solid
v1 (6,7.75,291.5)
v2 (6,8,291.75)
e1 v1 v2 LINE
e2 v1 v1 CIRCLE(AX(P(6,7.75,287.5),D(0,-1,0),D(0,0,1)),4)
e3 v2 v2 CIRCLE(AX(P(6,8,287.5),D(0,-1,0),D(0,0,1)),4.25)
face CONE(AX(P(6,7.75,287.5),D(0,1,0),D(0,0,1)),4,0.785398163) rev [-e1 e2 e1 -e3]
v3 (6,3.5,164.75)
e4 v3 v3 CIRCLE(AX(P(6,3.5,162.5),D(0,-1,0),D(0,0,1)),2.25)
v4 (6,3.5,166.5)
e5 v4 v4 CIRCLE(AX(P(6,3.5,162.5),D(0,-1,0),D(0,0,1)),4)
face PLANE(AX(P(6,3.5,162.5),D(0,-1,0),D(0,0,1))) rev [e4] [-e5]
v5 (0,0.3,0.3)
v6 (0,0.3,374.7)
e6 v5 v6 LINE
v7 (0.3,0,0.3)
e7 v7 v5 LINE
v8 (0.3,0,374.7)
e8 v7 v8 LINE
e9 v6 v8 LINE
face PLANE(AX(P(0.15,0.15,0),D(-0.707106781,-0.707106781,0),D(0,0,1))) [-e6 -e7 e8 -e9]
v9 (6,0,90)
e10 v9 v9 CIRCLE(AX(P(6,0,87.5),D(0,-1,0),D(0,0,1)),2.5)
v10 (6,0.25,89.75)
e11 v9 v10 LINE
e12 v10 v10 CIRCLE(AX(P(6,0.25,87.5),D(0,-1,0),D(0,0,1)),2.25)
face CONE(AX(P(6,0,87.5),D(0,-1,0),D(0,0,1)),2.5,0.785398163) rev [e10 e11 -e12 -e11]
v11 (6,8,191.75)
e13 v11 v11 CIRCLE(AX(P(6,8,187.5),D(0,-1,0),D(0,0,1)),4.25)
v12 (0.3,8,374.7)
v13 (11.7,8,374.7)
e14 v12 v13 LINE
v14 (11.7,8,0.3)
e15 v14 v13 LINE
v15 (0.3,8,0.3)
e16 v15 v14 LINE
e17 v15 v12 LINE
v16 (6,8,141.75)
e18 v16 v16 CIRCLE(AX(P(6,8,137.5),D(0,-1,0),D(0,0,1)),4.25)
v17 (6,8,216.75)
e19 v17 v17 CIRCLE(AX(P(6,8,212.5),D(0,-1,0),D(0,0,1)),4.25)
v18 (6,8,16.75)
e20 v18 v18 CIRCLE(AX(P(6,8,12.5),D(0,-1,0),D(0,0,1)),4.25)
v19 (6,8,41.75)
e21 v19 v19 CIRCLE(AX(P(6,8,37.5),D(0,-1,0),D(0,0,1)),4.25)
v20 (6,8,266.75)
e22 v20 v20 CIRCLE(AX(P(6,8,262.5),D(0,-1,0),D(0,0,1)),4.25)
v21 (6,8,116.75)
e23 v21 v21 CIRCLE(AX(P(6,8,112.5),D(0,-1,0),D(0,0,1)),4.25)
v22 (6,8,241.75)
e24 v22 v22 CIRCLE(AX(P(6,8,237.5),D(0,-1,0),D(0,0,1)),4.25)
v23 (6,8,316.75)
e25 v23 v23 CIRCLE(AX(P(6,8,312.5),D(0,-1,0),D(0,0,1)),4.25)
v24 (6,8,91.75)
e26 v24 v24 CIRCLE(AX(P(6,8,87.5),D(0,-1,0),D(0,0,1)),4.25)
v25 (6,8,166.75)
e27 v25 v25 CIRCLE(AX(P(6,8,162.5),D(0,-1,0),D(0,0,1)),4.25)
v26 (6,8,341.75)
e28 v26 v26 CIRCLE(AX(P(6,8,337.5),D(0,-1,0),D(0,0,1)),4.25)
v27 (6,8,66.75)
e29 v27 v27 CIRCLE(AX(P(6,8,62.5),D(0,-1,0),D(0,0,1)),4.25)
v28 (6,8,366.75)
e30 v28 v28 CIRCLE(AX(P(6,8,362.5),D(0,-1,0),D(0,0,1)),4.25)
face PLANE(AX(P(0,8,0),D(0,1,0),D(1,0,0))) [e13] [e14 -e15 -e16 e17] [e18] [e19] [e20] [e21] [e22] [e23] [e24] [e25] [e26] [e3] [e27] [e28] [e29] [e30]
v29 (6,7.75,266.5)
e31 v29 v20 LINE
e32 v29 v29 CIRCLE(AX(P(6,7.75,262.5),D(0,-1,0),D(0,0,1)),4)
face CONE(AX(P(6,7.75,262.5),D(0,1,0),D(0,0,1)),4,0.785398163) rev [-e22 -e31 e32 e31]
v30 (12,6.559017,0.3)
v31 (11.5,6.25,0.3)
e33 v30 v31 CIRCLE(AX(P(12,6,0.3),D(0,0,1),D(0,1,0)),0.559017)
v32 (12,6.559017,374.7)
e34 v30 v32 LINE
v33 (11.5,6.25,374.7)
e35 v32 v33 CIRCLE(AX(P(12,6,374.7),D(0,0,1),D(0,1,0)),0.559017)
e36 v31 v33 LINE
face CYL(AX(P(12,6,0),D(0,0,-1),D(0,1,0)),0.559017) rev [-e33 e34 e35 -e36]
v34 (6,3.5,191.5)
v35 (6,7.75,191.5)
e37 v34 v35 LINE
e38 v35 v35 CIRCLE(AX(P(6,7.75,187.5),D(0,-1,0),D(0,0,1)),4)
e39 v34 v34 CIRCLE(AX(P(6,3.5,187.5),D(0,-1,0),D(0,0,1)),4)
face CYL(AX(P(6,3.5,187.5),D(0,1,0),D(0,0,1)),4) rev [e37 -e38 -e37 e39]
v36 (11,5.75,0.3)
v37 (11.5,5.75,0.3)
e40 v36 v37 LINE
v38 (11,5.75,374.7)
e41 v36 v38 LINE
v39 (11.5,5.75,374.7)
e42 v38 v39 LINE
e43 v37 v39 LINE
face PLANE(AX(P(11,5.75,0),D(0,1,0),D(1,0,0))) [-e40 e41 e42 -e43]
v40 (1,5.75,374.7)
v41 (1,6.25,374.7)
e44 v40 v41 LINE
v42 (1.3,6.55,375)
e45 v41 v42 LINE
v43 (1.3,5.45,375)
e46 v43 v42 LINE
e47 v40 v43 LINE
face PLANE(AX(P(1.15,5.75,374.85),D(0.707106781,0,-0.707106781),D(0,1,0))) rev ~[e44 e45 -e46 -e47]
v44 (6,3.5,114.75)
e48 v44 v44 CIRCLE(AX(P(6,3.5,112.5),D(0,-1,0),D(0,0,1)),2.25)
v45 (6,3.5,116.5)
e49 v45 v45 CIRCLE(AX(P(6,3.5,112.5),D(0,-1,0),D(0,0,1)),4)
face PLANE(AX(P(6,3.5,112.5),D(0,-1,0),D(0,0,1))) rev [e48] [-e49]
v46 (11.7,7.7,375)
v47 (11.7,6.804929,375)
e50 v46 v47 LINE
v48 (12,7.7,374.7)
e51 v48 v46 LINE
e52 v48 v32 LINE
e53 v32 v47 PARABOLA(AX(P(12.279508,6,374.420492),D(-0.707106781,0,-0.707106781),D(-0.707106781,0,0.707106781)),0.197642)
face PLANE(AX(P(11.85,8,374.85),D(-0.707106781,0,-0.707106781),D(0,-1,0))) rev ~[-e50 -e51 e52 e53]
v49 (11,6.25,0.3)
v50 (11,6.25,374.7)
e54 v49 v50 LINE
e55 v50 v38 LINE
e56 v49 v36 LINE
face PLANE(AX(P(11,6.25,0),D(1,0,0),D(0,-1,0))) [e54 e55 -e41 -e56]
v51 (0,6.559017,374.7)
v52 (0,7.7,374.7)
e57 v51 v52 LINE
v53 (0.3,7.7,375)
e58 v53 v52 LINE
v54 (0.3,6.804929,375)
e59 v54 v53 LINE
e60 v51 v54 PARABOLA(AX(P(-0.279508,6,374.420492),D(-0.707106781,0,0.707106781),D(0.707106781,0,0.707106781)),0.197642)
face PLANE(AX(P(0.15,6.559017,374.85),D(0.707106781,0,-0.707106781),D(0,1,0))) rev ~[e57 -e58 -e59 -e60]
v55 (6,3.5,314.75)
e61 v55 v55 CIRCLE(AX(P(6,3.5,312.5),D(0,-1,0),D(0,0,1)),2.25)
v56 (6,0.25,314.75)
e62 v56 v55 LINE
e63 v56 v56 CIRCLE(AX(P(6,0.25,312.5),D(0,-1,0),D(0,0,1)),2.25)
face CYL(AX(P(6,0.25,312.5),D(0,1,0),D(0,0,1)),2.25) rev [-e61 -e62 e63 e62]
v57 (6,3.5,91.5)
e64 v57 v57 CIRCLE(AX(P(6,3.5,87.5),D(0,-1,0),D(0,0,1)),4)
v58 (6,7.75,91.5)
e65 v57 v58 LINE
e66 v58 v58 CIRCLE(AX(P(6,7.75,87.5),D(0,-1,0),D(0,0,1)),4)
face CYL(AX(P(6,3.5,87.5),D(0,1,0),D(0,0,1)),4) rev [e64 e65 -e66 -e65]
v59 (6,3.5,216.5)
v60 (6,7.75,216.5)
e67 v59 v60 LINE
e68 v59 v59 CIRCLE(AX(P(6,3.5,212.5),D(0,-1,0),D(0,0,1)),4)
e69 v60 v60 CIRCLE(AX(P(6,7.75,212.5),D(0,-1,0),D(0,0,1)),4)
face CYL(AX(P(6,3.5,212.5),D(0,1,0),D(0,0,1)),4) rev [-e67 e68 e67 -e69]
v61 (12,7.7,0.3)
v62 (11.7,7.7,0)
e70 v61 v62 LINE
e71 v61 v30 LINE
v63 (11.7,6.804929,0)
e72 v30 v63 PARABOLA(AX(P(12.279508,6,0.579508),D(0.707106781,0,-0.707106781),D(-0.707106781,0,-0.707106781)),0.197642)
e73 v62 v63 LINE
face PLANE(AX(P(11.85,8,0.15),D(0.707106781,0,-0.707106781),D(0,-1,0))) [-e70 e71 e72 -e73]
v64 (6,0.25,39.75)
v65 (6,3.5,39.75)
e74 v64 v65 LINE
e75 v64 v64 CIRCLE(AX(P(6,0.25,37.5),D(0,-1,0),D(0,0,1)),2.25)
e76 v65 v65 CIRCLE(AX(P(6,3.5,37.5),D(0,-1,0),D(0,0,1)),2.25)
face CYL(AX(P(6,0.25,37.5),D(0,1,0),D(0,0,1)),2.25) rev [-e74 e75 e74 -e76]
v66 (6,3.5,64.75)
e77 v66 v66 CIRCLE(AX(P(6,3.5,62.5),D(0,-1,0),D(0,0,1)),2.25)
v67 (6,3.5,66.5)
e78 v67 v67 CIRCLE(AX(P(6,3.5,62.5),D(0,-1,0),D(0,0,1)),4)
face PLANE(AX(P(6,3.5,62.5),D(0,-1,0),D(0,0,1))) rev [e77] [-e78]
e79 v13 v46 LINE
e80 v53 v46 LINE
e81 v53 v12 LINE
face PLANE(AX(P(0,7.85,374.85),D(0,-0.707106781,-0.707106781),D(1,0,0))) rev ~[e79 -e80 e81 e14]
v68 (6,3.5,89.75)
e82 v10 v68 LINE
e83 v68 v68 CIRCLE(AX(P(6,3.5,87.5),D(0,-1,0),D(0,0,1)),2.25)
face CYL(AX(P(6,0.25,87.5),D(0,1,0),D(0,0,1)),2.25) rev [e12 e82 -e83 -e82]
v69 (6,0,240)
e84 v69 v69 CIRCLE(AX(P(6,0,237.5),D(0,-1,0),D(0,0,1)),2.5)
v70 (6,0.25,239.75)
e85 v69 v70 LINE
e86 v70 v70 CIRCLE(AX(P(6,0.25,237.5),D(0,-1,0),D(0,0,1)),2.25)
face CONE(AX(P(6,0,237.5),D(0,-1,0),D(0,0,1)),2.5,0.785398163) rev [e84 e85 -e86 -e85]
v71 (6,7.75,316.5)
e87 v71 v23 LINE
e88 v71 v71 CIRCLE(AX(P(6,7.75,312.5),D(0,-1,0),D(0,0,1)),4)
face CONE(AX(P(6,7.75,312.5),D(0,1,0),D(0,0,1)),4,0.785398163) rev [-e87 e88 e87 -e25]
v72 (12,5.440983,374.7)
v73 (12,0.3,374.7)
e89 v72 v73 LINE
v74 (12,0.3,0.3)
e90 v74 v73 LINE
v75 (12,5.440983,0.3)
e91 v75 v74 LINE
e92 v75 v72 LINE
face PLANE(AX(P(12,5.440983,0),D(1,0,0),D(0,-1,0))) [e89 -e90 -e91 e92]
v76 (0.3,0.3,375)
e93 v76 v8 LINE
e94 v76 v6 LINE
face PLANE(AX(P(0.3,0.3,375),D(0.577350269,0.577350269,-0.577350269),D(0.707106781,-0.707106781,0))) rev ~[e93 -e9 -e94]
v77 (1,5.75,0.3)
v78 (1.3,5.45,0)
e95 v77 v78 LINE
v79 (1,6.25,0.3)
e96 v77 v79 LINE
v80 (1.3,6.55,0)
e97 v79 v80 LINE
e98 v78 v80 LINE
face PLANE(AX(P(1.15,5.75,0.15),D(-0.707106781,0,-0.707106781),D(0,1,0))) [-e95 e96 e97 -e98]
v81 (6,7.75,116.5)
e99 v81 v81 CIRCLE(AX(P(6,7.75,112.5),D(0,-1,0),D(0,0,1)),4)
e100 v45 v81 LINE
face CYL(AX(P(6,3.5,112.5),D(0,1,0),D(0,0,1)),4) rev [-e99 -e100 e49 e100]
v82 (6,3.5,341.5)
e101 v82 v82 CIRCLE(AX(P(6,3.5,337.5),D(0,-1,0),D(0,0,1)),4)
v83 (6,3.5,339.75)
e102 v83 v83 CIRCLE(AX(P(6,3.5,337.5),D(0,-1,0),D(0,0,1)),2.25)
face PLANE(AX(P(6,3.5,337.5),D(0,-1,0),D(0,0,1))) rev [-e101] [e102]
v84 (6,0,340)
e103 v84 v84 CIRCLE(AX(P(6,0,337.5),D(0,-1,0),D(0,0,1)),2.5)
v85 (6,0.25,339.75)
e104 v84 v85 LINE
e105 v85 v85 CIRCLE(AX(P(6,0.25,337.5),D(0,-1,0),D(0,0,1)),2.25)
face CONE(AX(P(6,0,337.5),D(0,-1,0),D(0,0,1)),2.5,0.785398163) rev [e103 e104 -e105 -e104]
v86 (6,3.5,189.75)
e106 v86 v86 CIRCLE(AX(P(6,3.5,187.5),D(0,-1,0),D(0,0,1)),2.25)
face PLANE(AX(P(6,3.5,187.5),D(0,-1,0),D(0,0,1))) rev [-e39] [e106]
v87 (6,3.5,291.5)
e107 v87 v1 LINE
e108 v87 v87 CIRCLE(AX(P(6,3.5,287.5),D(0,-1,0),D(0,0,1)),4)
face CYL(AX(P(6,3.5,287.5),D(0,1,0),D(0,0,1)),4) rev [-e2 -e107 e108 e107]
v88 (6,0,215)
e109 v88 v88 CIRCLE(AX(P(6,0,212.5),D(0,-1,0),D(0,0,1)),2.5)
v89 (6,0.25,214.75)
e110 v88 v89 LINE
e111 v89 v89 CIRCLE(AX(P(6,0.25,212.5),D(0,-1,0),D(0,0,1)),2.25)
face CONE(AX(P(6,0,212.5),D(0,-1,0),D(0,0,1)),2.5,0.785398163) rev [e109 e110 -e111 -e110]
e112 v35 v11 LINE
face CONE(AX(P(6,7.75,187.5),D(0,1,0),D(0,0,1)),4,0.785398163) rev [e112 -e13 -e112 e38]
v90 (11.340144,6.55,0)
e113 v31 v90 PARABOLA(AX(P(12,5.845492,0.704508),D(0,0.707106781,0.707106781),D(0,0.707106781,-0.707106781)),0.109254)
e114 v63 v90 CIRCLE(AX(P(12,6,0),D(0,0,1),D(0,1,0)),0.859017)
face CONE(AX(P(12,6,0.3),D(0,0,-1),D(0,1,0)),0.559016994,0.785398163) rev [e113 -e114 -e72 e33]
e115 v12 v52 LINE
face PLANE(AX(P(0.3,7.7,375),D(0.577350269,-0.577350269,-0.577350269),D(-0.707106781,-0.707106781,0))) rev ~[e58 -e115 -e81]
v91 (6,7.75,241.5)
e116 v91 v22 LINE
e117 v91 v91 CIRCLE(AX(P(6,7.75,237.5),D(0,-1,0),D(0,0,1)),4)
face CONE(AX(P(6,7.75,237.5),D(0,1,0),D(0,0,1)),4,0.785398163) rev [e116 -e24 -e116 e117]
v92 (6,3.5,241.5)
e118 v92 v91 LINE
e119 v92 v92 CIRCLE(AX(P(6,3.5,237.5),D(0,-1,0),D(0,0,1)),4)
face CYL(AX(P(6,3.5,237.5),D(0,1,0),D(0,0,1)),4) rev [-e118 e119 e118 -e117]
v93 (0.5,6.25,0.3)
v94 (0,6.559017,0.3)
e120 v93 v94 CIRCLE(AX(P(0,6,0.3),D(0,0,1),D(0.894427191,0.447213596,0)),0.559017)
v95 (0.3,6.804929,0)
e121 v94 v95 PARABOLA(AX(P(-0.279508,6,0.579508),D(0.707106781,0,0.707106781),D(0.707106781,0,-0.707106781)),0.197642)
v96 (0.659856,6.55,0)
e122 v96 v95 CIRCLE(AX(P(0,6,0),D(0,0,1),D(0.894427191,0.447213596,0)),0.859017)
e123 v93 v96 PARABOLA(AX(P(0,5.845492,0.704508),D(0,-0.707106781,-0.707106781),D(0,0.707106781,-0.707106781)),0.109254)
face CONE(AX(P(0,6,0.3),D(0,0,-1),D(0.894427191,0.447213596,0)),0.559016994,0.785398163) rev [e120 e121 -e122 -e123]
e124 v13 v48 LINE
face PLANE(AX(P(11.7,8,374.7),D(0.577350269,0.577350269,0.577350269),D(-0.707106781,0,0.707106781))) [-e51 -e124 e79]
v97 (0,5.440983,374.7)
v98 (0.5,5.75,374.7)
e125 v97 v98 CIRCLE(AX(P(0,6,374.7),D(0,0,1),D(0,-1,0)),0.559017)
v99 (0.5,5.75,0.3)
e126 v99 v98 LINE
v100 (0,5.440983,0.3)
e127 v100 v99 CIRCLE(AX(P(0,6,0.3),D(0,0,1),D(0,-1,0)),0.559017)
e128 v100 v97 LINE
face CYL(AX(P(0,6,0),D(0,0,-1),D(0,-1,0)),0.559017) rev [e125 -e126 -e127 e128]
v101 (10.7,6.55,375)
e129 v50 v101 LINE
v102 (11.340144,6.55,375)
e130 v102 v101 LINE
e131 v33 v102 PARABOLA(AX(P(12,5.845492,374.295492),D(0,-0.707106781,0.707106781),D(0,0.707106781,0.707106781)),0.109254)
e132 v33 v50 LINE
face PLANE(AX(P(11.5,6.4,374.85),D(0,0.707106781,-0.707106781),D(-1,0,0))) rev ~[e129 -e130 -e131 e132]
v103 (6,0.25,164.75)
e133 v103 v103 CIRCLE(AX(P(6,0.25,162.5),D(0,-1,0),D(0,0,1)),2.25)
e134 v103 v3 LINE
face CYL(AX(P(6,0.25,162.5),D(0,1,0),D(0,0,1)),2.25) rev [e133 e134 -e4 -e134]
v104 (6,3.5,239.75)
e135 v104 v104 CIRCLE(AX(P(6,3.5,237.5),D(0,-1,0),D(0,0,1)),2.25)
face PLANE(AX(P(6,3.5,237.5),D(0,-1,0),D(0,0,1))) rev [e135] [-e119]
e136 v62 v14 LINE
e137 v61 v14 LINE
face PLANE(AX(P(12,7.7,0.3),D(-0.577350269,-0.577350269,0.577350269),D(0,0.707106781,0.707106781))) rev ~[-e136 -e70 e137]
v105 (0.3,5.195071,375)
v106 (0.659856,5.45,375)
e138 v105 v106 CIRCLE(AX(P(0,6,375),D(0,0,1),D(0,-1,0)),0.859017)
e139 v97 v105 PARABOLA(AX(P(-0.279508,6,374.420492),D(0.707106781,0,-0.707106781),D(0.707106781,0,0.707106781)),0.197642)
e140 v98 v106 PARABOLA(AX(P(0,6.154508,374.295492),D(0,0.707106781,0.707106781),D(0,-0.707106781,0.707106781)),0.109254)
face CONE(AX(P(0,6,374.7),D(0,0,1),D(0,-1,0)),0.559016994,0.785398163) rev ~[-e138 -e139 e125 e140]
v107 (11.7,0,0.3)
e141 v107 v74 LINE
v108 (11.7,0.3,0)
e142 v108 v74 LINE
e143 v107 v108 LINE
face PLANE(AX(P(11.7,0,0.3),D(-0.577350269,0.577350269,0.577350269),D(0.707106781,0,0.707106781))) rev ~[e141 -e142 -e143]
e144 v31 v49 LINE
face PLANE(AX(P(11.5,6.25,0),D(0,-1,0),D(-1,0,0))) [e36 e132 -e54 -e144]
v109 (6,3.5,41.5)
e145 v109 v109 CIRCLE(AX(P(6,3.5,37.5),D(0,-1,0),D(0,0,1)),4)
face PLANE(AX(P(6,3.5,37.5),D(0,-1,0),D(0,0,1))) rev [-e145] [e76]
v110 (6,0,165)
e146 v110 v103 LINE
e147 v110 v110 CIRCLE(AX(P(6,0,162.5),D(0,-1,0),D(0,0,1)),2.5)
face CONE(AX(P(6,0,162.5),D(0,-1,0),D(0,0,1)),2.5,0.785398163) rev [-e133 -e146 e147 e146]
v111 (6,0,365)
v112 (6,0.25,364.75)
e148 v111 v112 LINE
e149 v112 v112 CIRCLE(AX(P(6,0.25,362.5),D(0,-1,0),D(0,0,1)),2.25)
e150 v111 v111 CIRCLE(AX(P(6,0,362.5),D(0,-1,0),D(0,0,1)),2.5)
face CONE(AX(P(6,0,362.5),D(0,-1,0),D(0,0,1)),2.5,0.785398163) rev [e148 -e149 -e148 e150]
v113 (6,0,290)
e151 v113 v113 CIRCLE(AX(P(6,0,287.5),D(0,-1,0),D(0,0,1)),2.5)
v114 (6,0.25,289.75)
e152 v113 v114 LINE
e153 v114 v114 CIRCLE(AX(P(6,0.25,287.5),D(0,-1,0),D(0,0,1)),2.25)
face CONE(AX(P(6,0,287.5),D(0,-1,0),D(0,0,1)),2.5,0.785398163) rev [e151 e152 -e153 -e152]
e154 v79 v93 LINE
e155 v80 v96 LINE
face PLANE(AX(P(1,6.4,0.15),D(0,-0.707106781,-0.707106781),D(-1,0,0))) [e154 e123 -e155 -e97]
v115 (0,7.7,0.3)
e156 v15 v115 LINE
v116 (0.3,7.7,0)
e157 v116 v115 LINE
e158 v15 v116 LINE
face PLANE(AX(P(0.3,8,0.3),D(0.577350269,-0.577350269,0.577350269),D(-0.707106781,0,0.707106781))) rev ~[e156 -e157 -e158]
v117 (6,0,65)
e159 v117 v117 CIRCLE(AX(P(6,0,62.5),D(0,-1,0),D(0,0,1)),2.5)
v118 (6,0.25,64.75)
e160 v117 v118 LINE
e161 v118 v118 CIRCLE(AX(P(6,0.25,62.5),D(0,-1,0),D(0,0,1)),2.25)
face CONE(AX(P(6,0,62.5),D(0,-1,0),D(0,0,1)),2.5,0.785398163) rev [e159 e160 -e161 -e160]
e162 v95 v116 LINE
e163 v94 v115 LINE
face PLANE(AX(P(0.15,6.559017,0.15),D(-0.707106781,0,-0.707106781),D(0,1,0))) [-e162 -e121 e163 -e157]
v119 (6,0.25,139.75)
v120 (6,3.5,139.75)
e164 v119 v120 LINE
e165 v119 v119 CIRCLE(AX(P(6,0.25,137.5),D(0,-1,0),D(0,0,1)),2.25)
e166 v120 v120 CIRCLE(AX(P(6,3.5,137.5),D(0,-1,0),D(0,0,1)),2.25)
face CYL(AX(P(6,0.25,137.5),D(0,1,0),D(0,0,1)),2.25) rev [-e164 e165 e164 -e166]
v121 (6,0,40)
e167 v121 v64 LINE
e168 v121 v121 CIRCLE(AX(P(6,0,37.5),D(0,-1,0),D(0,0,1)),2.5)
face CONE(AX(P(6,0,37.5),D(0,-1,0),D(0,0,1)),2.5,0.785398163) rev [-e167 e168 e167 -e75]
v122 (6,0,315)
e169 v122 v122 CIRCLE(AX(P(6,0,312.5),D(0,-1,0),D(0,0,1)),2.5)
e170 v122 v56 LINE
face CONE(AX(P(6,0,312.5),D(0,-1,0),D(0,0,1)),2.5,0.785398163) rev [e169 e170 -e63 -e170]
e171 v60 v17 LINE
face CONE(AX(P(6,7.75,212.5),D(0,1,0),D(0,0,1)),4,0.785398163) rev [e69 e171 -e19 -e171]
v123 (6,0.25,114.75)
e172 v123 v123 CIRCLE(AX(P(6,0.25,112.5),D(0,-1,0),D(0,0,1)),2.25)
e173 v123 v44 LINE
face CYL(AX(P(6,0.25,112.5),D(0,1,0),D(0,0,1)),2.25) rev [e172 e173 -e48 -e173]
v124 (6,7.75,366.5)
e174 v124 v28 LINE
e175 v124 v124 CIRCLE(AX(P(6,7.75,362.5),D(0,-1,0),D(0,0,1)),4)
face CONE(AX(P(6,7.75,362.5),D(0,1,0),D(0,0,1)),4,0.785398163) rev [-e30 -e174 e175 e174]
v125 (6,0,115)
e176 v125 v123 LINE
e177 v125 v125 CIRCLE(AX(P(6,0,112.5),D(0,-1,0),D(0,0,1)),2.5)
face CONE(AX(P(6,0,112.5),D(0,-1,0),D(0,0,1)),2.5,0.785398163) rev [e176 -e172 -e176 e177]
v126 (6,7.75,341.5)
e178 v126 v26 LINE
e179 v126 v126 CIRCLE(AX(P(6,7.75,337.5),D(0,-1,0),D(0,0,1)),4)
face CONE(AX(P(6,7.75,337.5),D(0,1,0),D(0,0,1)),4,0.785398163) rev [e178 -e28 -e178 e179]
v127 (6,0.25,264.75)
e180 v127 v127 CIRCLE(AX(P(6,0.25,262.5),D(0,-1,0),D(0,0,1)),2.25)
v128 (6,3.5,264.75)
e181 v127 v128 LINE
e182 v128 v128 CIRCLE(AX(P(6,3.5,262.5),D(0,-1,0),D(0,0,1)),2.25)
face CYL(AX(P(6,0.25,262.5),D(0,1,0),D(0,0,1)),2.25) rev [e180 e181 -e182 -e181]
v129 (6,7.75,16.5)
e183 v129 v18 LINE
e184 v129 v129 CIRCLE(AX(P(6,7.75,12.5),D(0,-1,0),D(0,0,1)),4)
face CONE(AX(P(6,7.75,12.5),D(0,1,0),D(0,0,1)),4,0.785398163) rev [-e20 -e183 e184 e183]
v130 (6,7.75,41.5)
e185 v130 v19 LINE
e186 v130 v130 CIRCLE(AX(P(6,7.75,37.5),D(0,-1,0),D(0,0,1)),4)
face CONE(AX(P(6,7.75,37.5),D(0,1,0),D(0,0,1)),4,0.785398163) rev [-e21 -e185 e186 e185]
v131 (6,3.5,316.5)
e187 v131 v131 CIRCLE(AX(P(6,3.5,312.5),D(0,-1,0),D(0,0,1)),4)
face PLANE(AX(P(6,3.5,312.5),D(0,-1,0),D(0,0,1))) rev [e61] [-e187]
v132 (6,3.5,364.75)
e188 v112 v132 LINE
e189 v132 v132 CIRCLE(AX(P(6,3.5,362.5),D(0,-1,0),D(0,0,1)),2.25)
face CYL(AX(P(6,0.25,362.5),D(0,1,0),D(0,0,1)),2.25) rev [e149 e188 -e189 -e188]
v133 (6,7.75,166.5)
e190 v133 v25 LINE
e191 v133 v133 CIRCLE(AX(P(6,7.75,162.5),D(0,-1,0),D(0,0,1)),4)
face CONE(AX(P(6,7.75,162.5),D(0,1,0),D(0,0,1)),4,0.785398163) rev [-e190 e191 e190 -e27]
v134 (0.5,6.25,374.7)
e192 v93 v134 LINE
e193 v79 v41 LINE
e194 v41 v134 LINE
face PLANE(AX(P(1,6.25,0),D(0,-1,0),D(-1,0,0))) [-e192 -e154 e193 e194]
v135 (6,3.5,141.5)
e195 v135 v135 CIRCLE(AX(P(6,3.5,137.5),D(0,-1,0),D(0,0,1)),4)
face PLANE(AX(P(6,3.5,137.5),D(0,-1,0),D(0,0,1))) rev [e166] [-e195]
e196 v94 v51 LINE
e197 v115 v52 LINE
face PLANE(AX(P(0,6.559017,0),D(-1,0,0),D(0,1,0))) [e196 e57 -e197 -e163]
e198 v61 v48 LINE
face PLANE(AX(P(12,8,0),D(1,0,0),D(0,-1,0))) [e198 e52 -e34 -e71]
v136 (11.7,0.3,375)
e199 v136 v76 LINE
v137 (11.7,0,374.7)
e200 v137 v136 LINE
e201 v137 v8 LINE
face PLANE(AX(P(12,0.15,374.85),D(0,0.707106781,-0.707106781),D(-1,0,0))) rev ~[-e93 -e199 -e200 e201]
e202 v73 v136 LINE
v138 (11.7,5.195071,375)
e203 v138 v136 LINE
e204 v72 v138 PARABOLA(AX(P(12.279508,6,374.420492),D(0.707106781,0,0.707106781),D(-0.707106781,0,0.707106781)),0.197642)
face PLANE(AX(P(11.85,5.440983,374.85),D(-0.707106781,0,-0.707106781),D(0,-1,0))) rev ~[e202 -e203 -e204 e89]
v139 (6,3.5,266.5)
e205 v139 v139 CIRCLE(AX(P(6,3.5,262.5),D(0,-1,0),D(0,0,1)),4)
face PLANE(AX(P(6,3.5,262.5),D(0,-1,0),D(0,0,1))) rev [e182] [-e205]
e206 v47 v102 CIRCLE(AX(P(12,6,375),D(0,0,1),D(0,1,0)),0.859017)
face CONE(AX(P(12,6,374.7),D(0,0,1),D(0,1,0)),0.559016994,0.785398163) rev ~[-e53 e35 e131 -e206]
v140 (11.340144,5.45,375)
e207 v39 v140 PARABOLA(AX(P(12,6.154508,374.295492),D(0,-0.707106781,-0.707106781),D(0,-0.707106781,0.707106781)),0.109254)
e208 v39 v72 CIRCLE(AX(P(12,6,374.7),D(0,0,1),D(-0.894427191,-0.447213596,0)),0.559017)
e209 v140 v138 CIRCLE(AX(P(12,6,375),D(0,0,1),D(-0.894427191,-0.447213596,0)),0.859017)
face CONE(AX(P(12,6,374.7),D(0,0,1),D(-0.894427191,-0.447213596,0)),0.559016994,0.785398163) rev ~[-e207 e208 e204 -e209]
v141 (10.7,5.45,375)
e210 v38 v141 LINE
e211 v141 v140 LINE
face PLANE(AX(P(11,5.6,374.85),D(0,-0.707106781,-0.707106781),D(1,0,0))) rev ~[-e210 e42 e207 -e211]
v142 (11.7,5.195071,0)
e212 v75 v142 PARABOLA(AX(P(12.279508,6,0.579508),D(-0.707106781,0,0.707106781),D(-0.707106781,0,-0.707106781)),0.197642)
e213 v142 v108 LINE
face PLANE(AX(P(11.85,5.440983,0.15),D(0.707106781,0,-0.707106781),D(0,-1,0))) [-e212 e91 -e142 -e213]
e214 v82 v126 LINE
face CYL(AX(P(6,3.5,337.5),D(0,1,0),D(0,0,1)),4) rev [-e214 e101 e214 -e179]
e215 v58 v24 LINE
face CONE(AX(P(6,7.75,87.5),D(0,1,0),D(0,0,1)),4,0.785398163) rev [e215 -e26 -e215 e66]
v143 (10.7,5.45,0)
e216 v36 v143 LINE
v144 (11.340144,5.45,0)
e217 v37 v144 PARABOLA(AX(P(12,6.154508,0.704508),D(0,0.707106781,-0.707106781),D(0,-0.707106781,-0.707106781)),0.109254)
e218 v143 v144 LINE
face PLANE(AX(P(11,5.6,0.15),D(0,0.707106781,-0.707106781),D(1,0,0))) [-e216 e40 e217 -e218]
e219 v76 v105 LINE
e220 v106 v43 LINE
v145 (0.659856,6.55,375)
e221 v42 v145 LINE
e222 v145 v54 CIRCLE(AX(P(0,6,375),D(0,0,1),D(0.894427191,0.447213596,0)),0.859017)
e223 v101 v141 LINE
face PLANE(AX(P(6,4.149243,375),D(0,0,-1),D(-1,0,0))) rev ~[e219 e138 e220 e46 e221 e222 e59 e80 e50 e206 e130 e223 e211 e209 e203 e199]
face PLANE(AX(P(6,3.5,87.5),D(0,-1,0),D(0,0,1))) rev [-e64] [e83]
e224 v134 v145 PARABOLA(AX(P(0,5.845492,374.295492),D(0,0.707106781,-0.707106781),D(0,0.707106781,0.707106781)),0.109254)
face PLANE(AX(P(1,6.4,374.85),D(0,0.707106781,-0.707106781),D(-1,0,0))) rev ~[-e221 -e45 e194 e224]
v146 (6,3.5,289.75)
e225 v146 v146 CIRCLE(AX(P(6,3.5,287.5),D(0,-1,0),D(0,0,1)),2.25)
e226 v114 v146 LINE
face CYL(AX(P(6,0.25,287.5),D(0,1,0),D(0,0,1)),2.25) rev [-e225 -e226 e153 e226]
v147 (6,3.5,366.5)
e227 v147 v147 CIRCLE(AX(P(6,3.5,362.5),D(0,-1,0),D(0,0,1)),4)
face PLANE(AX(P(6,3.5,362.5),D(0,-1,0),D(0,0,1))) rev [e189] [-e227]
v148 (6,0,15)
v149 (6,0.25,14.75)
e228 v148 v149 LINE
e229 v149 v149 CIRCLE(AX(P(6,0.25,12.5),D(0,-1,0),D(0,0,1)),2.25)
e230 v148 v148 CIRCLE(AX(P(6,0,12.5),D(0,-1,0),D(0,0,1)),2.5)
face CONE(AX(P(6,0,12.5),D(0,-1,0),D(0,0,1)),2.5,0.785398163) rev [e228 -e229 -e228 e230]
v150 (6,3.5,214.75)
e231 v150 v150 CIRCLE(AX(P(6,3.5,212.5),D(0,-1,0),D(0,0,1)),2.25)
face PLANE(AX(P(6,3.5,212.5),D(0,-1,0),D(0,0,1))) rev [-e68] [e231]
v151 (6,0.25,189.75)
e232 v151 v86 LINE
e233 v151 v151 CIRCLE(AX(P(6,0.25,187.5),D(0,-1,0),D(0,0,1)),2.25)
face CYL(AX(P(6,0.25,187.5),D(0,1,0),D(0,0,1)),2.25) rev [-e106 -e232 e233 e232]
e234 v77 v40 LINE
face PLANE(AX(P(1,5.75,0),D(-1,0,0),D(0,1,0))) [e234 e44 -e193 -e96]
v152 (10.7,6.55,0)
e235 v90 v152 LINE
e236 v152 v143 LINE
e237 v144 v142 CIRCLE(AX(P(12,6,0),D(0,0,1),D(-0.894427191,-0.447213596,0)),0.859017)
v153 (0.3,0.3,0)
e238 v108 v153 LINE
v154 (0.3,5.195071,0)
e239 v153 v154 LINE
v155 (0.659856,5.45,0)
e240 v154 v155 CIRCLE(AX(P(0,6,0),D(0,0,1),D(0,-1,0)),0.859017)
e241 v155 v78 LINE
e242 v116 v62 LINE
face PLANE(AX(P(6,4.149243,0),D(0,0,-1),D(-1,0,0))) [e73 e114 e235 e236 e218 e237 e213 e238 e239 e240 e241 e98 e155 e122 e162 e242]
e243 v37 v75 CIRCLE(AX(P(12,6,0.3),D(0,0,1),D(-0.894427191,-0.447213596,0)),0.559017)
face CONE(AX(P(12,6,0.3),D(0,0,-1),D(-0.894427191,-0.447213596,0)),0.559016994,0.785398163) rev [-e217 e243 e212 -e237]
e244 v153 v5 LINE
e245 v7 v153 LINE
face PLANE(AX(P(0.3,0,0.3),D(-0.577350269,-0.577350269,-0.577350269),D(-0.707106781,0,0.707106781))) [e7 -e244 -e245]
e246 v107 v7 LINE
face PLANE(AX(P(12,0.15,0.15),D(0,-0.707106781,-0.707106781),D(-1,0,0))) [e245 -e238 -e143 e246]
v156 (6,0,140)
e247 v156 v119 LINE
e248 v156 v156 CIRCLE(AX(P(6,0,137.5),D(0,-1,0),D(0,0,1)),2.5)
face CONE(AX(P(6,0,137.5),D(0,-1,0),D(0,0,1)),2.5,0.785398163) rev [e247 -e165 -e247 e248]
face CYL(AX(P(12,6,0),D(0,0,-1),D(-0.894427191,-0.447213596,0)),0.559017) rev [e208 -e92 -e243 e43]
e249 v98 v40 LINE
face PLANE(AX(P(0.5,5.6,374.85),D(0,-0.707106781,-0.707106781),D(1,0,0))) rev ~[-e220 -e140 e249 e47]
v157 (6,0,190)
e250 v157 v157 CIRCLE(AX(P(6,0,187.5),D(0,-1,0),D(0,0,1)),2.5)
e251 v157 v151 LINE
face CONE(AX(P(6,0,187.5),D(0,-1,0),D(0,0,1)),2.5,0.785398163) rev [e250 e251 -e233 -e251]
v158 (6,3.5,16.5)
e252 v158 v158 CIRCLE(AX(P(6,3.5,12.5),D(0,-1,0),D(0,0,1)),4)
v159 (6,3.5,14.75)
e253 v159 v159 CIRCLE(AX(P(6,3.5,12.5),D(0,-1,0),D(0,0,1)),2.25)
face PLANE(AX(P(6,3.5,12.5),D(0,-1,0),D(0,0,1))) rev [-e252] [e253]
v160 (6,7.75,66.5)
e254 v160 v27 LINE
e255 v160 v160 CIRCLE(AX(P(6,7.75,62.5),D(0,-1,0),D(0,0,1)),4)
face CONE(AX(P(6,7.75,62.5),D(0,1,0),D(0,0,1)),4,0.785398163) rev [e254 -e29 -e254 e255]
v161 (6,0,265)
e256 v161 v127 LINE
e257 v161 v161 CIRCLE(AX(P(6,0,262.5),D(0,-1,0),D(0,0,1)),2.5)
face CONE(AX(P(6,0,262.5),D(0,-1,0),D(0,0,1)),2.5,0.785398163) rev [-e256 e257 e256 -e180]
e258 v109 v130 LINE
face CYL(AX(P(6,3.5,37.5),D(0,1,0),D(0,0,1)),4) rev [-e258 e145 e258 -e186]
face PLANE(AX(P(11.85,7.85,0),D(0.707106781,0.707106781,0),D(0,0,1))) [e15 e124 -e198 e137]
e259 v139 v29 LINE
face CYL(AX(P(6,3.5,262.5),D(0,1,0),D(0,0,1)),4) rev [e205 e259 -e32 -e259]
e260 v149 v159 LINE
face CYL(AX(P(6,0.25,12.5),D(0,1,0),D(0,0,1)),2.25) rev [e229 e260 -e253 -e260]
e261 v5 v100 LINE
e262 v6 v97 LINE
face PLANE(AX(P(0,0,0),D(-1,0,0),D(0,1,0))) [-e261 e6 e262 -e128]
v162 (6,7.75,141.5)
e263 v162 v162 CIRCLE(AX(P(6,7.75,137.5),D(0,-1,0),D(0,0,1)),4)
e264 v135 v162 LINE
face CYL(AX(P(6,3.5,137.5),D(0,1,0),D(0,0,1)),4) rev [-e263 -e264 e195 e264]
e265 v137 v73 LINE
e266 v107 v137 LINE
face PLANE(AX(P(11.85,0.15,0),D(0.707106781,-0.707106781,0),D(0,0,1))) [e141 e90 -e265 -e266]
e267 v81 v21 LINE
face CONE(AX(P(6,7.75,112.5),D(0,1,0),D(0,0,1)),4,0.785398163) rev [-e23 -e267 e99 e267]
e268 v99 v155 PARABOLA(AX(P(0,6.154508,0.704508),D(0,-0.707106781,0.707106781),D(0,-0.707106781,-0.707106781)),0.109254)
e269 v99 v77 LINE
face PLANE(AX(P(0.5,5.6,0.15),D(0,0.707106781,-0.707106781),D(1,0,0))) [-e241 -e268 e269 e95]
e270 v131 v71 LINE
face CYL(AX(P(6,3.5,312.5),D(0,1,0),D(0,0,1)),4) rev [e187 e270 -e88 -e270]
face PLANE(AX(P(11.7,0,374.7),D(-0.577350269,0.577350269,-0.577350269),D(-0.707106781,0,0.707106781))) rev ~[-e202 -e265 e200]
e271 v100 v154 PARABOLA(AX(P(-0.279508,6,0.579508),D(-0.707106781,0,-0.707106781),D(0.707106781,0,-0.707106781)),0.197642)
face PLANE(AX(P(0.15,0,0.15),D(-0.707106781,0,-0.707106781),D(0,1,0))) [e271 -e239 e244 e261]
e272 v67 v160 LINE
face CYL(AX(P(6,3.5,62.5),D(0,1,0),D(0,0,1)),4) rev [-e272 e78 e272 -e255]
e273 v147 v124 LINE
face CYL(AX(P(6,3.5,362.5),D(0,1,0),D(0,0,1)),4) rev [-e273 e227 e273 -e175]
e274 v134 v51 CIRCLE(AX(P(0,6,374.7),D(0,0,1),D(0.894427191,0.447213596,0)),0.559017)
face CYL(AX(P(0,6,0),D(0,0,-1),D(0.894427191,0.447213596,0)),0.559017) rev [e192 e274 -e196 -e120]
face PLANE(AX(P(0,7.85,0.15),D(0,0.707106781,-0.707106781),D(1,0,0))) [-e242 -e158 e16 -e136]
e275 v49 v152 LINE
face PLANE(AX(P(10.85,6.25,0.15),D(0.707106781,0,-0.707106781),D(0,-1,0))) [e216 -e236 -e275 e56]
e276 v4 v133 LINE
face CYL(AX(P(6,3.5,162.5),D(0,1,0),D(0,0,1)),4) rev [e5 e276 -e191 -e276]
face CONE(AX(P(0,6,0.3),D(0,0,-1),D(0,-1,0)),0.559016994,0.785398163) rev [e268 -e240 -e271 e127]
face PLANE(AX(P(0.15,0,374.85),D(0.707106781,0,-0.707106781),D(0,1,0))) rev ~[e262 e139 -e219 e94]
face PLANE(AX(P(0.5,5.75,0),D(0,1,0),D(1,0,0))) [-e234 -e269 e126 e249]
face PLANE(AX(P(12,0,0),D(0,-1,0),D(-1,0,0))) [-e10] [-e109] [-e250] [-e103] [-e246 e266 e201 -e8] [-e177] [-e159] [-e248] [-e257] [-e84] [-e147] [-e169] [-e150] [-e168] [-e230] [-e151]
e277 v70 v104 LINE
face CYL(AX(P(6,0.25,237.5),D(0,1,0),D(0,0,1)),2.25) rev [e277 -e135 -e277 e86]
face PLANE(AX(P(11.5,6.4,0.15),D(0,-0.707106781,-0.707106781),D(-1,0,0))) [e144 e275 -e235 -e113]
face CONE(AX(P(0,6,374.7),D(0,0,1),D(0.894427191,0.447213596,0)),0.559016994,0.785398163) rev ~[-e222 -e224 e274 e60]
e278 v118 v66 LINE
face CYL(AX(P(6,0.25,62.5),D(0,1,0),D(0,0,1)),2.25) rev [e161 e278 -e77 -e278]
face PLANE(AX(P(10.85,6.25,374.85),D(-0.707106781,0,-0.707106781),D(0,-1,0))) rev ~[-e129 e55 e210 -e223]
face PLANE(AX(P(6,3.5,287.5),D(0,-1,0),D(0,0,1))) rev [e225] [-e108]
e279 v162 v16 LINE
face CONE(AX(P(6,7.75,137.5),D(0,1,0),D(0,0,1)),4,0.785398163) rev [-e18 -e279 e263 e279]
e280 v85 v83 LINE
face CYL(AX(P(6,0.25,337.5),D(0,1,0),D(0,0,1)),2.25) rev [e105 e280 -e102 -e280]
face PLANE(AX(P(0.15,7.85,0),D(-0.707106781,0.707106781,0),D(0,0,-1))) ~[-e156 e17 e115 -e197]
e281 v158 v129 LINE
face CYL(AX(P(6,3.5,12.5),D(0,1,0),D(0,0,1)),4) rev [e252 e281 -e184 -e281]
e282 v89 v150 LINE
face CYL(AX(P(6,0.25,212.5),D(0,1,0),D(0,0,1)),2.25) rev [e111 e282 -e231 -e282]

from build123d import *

# Parameters (mm, degrees)
BOSS_EXTRUDE1_DEPTH = 375
CHAMFER1_SIZE       = 0.3
LPATTERN1_COUNT     = 15
LPATTERN1_PITCH     = 25


with BuildPart() as part:
    # Sketch1 → Boss-Extrude1 (new body)
    with BuildSketch(Plane.XY):
        with BuildLine():
            Line((0, 8), (12, 8))
            Line((12, 8), (12, 6.75))
            Line((12, 6.75), (12, 6.559016994))
            ThreePointArc((12, 6.559016994), (11.706107374, 6.475528258), (11.5, 6.25))
            Line((11.5, 6.25), (11, 6.25))
            Line((11, 6.25), (11, 5.75))
            Line((11, 5.75), (11.5, 5.75))
            ThreePointArc((11.5, 5.75), (11.706107374, 5.524471742), (12, 5.440983006))
            Line((12, 5.440983006), (12, 5.25))
            Line((12, 5.25), (12, 0))
            Line((12, 0), (0, 0))
            Line((0, 0), (0, 5.25))
            Line((0, 5.25), (0, 5.440983006))
            ThreePointArc((0, 5.440983006), (0.293892626, 5.524471742), (0.5, 5.75))
            Line((0.5, 5.75), (1, 5.75))
            Line((1, 5.75), (1, 6.25))
            Line((1, 6.25), (0.5, 6.25))
            ThreePointArc((0.5, 6.25), (0.293892626, 6.475528258), (0, 6.559016994))
            Line((0, 6.559016994), (0, 6.75))
            Line((0, 6.75), (0, 8))
        make_face()
    extrude(amount=BOSS_EXTRUDE1_DEPTH)

    # Chamfer1
    chamfer1_edges = [part.edges().sort_by_distance(p)[0] for p in [
        (12, 2.720491503, 375),
        (11.706107374, 5.524471742, 375),
        (0, 2.720491503, 0),
        (0.293892626, 5.524471742, 0),
        (0.75, 5.75, 0),
        (1, 6, 0),
        (0.75, 6.25, 0),
        (11.25, 5.75, 375),
        (0.293892626, 6.475528258, 0),
        (0, 7.279508497, 0),
        (6, 8, 0),
        (12, 7.279508497, 0),
        (11.706107374, 6.475528258, 0),
        (11, 6, 375),
        (11.25, 6.25, 0),
        (11, 6, 0),
        (11.25, 5.75, 0),
        (11.706107374, 5.524471742, 0),
        (12, 2.720491503, 0),
        (6, 0, 0),
        (11.25, 6.25, 375),
        (11.706107374, 6.475528258, 375),
        (12, 7.279508497, 375),
        (0, 8, 187.5),
        (12, 8, 187.5),
        (12, 0, 187.5),
        (0, 0, 187.5),
        (6, 8, 375),
        (0, 2.720491503, 375),
        (0, 7.279508497, 375),
        (0.293892626, 6.475528258, 375),
        (0.75, 6.25, 375),
        (1, 6, 375),
        (0.75, 5.75, 375),
        (0.293892626, 5.524471742, 375),
        (6, 0, 375),
    ]]
    chamfer(chamfer1_edges, length=CHAMFER1_SIZE)

    # Sketch3 → CBORE for M5 Hex Head Bolt1 (revolve, cut)
    with BuildSketch(Plane(origin=(6, 8, 12.5), x_dir=(0, 0, 1), z_dir=(1, 0, 0))):
        Polygon((0, 0), (0, 8), (2.5, 8), (2.25, 7.75), (2.25, 4.5), (4, 4.5), (4, 0.25), (4.25, 0), align=None)
    cbore_for_m5_hex_head_bolt1 = revolve(axis=Axis((6, 14.35, 12.5), (0, -1, 0)), mode=Mode.SUBTRACT)

    # LPattern1: CBORE for M5 Hex Head Bolt1 ×15
    with Locations(*[(0, 0, i * LPATTERN1_PITCH) for i in range(1, LPATTERN1_COUNT)]):
        add(cbore_for_m5_hex_head_bolt1, mode=Mode.SUBTRACT)


solid = part.part
